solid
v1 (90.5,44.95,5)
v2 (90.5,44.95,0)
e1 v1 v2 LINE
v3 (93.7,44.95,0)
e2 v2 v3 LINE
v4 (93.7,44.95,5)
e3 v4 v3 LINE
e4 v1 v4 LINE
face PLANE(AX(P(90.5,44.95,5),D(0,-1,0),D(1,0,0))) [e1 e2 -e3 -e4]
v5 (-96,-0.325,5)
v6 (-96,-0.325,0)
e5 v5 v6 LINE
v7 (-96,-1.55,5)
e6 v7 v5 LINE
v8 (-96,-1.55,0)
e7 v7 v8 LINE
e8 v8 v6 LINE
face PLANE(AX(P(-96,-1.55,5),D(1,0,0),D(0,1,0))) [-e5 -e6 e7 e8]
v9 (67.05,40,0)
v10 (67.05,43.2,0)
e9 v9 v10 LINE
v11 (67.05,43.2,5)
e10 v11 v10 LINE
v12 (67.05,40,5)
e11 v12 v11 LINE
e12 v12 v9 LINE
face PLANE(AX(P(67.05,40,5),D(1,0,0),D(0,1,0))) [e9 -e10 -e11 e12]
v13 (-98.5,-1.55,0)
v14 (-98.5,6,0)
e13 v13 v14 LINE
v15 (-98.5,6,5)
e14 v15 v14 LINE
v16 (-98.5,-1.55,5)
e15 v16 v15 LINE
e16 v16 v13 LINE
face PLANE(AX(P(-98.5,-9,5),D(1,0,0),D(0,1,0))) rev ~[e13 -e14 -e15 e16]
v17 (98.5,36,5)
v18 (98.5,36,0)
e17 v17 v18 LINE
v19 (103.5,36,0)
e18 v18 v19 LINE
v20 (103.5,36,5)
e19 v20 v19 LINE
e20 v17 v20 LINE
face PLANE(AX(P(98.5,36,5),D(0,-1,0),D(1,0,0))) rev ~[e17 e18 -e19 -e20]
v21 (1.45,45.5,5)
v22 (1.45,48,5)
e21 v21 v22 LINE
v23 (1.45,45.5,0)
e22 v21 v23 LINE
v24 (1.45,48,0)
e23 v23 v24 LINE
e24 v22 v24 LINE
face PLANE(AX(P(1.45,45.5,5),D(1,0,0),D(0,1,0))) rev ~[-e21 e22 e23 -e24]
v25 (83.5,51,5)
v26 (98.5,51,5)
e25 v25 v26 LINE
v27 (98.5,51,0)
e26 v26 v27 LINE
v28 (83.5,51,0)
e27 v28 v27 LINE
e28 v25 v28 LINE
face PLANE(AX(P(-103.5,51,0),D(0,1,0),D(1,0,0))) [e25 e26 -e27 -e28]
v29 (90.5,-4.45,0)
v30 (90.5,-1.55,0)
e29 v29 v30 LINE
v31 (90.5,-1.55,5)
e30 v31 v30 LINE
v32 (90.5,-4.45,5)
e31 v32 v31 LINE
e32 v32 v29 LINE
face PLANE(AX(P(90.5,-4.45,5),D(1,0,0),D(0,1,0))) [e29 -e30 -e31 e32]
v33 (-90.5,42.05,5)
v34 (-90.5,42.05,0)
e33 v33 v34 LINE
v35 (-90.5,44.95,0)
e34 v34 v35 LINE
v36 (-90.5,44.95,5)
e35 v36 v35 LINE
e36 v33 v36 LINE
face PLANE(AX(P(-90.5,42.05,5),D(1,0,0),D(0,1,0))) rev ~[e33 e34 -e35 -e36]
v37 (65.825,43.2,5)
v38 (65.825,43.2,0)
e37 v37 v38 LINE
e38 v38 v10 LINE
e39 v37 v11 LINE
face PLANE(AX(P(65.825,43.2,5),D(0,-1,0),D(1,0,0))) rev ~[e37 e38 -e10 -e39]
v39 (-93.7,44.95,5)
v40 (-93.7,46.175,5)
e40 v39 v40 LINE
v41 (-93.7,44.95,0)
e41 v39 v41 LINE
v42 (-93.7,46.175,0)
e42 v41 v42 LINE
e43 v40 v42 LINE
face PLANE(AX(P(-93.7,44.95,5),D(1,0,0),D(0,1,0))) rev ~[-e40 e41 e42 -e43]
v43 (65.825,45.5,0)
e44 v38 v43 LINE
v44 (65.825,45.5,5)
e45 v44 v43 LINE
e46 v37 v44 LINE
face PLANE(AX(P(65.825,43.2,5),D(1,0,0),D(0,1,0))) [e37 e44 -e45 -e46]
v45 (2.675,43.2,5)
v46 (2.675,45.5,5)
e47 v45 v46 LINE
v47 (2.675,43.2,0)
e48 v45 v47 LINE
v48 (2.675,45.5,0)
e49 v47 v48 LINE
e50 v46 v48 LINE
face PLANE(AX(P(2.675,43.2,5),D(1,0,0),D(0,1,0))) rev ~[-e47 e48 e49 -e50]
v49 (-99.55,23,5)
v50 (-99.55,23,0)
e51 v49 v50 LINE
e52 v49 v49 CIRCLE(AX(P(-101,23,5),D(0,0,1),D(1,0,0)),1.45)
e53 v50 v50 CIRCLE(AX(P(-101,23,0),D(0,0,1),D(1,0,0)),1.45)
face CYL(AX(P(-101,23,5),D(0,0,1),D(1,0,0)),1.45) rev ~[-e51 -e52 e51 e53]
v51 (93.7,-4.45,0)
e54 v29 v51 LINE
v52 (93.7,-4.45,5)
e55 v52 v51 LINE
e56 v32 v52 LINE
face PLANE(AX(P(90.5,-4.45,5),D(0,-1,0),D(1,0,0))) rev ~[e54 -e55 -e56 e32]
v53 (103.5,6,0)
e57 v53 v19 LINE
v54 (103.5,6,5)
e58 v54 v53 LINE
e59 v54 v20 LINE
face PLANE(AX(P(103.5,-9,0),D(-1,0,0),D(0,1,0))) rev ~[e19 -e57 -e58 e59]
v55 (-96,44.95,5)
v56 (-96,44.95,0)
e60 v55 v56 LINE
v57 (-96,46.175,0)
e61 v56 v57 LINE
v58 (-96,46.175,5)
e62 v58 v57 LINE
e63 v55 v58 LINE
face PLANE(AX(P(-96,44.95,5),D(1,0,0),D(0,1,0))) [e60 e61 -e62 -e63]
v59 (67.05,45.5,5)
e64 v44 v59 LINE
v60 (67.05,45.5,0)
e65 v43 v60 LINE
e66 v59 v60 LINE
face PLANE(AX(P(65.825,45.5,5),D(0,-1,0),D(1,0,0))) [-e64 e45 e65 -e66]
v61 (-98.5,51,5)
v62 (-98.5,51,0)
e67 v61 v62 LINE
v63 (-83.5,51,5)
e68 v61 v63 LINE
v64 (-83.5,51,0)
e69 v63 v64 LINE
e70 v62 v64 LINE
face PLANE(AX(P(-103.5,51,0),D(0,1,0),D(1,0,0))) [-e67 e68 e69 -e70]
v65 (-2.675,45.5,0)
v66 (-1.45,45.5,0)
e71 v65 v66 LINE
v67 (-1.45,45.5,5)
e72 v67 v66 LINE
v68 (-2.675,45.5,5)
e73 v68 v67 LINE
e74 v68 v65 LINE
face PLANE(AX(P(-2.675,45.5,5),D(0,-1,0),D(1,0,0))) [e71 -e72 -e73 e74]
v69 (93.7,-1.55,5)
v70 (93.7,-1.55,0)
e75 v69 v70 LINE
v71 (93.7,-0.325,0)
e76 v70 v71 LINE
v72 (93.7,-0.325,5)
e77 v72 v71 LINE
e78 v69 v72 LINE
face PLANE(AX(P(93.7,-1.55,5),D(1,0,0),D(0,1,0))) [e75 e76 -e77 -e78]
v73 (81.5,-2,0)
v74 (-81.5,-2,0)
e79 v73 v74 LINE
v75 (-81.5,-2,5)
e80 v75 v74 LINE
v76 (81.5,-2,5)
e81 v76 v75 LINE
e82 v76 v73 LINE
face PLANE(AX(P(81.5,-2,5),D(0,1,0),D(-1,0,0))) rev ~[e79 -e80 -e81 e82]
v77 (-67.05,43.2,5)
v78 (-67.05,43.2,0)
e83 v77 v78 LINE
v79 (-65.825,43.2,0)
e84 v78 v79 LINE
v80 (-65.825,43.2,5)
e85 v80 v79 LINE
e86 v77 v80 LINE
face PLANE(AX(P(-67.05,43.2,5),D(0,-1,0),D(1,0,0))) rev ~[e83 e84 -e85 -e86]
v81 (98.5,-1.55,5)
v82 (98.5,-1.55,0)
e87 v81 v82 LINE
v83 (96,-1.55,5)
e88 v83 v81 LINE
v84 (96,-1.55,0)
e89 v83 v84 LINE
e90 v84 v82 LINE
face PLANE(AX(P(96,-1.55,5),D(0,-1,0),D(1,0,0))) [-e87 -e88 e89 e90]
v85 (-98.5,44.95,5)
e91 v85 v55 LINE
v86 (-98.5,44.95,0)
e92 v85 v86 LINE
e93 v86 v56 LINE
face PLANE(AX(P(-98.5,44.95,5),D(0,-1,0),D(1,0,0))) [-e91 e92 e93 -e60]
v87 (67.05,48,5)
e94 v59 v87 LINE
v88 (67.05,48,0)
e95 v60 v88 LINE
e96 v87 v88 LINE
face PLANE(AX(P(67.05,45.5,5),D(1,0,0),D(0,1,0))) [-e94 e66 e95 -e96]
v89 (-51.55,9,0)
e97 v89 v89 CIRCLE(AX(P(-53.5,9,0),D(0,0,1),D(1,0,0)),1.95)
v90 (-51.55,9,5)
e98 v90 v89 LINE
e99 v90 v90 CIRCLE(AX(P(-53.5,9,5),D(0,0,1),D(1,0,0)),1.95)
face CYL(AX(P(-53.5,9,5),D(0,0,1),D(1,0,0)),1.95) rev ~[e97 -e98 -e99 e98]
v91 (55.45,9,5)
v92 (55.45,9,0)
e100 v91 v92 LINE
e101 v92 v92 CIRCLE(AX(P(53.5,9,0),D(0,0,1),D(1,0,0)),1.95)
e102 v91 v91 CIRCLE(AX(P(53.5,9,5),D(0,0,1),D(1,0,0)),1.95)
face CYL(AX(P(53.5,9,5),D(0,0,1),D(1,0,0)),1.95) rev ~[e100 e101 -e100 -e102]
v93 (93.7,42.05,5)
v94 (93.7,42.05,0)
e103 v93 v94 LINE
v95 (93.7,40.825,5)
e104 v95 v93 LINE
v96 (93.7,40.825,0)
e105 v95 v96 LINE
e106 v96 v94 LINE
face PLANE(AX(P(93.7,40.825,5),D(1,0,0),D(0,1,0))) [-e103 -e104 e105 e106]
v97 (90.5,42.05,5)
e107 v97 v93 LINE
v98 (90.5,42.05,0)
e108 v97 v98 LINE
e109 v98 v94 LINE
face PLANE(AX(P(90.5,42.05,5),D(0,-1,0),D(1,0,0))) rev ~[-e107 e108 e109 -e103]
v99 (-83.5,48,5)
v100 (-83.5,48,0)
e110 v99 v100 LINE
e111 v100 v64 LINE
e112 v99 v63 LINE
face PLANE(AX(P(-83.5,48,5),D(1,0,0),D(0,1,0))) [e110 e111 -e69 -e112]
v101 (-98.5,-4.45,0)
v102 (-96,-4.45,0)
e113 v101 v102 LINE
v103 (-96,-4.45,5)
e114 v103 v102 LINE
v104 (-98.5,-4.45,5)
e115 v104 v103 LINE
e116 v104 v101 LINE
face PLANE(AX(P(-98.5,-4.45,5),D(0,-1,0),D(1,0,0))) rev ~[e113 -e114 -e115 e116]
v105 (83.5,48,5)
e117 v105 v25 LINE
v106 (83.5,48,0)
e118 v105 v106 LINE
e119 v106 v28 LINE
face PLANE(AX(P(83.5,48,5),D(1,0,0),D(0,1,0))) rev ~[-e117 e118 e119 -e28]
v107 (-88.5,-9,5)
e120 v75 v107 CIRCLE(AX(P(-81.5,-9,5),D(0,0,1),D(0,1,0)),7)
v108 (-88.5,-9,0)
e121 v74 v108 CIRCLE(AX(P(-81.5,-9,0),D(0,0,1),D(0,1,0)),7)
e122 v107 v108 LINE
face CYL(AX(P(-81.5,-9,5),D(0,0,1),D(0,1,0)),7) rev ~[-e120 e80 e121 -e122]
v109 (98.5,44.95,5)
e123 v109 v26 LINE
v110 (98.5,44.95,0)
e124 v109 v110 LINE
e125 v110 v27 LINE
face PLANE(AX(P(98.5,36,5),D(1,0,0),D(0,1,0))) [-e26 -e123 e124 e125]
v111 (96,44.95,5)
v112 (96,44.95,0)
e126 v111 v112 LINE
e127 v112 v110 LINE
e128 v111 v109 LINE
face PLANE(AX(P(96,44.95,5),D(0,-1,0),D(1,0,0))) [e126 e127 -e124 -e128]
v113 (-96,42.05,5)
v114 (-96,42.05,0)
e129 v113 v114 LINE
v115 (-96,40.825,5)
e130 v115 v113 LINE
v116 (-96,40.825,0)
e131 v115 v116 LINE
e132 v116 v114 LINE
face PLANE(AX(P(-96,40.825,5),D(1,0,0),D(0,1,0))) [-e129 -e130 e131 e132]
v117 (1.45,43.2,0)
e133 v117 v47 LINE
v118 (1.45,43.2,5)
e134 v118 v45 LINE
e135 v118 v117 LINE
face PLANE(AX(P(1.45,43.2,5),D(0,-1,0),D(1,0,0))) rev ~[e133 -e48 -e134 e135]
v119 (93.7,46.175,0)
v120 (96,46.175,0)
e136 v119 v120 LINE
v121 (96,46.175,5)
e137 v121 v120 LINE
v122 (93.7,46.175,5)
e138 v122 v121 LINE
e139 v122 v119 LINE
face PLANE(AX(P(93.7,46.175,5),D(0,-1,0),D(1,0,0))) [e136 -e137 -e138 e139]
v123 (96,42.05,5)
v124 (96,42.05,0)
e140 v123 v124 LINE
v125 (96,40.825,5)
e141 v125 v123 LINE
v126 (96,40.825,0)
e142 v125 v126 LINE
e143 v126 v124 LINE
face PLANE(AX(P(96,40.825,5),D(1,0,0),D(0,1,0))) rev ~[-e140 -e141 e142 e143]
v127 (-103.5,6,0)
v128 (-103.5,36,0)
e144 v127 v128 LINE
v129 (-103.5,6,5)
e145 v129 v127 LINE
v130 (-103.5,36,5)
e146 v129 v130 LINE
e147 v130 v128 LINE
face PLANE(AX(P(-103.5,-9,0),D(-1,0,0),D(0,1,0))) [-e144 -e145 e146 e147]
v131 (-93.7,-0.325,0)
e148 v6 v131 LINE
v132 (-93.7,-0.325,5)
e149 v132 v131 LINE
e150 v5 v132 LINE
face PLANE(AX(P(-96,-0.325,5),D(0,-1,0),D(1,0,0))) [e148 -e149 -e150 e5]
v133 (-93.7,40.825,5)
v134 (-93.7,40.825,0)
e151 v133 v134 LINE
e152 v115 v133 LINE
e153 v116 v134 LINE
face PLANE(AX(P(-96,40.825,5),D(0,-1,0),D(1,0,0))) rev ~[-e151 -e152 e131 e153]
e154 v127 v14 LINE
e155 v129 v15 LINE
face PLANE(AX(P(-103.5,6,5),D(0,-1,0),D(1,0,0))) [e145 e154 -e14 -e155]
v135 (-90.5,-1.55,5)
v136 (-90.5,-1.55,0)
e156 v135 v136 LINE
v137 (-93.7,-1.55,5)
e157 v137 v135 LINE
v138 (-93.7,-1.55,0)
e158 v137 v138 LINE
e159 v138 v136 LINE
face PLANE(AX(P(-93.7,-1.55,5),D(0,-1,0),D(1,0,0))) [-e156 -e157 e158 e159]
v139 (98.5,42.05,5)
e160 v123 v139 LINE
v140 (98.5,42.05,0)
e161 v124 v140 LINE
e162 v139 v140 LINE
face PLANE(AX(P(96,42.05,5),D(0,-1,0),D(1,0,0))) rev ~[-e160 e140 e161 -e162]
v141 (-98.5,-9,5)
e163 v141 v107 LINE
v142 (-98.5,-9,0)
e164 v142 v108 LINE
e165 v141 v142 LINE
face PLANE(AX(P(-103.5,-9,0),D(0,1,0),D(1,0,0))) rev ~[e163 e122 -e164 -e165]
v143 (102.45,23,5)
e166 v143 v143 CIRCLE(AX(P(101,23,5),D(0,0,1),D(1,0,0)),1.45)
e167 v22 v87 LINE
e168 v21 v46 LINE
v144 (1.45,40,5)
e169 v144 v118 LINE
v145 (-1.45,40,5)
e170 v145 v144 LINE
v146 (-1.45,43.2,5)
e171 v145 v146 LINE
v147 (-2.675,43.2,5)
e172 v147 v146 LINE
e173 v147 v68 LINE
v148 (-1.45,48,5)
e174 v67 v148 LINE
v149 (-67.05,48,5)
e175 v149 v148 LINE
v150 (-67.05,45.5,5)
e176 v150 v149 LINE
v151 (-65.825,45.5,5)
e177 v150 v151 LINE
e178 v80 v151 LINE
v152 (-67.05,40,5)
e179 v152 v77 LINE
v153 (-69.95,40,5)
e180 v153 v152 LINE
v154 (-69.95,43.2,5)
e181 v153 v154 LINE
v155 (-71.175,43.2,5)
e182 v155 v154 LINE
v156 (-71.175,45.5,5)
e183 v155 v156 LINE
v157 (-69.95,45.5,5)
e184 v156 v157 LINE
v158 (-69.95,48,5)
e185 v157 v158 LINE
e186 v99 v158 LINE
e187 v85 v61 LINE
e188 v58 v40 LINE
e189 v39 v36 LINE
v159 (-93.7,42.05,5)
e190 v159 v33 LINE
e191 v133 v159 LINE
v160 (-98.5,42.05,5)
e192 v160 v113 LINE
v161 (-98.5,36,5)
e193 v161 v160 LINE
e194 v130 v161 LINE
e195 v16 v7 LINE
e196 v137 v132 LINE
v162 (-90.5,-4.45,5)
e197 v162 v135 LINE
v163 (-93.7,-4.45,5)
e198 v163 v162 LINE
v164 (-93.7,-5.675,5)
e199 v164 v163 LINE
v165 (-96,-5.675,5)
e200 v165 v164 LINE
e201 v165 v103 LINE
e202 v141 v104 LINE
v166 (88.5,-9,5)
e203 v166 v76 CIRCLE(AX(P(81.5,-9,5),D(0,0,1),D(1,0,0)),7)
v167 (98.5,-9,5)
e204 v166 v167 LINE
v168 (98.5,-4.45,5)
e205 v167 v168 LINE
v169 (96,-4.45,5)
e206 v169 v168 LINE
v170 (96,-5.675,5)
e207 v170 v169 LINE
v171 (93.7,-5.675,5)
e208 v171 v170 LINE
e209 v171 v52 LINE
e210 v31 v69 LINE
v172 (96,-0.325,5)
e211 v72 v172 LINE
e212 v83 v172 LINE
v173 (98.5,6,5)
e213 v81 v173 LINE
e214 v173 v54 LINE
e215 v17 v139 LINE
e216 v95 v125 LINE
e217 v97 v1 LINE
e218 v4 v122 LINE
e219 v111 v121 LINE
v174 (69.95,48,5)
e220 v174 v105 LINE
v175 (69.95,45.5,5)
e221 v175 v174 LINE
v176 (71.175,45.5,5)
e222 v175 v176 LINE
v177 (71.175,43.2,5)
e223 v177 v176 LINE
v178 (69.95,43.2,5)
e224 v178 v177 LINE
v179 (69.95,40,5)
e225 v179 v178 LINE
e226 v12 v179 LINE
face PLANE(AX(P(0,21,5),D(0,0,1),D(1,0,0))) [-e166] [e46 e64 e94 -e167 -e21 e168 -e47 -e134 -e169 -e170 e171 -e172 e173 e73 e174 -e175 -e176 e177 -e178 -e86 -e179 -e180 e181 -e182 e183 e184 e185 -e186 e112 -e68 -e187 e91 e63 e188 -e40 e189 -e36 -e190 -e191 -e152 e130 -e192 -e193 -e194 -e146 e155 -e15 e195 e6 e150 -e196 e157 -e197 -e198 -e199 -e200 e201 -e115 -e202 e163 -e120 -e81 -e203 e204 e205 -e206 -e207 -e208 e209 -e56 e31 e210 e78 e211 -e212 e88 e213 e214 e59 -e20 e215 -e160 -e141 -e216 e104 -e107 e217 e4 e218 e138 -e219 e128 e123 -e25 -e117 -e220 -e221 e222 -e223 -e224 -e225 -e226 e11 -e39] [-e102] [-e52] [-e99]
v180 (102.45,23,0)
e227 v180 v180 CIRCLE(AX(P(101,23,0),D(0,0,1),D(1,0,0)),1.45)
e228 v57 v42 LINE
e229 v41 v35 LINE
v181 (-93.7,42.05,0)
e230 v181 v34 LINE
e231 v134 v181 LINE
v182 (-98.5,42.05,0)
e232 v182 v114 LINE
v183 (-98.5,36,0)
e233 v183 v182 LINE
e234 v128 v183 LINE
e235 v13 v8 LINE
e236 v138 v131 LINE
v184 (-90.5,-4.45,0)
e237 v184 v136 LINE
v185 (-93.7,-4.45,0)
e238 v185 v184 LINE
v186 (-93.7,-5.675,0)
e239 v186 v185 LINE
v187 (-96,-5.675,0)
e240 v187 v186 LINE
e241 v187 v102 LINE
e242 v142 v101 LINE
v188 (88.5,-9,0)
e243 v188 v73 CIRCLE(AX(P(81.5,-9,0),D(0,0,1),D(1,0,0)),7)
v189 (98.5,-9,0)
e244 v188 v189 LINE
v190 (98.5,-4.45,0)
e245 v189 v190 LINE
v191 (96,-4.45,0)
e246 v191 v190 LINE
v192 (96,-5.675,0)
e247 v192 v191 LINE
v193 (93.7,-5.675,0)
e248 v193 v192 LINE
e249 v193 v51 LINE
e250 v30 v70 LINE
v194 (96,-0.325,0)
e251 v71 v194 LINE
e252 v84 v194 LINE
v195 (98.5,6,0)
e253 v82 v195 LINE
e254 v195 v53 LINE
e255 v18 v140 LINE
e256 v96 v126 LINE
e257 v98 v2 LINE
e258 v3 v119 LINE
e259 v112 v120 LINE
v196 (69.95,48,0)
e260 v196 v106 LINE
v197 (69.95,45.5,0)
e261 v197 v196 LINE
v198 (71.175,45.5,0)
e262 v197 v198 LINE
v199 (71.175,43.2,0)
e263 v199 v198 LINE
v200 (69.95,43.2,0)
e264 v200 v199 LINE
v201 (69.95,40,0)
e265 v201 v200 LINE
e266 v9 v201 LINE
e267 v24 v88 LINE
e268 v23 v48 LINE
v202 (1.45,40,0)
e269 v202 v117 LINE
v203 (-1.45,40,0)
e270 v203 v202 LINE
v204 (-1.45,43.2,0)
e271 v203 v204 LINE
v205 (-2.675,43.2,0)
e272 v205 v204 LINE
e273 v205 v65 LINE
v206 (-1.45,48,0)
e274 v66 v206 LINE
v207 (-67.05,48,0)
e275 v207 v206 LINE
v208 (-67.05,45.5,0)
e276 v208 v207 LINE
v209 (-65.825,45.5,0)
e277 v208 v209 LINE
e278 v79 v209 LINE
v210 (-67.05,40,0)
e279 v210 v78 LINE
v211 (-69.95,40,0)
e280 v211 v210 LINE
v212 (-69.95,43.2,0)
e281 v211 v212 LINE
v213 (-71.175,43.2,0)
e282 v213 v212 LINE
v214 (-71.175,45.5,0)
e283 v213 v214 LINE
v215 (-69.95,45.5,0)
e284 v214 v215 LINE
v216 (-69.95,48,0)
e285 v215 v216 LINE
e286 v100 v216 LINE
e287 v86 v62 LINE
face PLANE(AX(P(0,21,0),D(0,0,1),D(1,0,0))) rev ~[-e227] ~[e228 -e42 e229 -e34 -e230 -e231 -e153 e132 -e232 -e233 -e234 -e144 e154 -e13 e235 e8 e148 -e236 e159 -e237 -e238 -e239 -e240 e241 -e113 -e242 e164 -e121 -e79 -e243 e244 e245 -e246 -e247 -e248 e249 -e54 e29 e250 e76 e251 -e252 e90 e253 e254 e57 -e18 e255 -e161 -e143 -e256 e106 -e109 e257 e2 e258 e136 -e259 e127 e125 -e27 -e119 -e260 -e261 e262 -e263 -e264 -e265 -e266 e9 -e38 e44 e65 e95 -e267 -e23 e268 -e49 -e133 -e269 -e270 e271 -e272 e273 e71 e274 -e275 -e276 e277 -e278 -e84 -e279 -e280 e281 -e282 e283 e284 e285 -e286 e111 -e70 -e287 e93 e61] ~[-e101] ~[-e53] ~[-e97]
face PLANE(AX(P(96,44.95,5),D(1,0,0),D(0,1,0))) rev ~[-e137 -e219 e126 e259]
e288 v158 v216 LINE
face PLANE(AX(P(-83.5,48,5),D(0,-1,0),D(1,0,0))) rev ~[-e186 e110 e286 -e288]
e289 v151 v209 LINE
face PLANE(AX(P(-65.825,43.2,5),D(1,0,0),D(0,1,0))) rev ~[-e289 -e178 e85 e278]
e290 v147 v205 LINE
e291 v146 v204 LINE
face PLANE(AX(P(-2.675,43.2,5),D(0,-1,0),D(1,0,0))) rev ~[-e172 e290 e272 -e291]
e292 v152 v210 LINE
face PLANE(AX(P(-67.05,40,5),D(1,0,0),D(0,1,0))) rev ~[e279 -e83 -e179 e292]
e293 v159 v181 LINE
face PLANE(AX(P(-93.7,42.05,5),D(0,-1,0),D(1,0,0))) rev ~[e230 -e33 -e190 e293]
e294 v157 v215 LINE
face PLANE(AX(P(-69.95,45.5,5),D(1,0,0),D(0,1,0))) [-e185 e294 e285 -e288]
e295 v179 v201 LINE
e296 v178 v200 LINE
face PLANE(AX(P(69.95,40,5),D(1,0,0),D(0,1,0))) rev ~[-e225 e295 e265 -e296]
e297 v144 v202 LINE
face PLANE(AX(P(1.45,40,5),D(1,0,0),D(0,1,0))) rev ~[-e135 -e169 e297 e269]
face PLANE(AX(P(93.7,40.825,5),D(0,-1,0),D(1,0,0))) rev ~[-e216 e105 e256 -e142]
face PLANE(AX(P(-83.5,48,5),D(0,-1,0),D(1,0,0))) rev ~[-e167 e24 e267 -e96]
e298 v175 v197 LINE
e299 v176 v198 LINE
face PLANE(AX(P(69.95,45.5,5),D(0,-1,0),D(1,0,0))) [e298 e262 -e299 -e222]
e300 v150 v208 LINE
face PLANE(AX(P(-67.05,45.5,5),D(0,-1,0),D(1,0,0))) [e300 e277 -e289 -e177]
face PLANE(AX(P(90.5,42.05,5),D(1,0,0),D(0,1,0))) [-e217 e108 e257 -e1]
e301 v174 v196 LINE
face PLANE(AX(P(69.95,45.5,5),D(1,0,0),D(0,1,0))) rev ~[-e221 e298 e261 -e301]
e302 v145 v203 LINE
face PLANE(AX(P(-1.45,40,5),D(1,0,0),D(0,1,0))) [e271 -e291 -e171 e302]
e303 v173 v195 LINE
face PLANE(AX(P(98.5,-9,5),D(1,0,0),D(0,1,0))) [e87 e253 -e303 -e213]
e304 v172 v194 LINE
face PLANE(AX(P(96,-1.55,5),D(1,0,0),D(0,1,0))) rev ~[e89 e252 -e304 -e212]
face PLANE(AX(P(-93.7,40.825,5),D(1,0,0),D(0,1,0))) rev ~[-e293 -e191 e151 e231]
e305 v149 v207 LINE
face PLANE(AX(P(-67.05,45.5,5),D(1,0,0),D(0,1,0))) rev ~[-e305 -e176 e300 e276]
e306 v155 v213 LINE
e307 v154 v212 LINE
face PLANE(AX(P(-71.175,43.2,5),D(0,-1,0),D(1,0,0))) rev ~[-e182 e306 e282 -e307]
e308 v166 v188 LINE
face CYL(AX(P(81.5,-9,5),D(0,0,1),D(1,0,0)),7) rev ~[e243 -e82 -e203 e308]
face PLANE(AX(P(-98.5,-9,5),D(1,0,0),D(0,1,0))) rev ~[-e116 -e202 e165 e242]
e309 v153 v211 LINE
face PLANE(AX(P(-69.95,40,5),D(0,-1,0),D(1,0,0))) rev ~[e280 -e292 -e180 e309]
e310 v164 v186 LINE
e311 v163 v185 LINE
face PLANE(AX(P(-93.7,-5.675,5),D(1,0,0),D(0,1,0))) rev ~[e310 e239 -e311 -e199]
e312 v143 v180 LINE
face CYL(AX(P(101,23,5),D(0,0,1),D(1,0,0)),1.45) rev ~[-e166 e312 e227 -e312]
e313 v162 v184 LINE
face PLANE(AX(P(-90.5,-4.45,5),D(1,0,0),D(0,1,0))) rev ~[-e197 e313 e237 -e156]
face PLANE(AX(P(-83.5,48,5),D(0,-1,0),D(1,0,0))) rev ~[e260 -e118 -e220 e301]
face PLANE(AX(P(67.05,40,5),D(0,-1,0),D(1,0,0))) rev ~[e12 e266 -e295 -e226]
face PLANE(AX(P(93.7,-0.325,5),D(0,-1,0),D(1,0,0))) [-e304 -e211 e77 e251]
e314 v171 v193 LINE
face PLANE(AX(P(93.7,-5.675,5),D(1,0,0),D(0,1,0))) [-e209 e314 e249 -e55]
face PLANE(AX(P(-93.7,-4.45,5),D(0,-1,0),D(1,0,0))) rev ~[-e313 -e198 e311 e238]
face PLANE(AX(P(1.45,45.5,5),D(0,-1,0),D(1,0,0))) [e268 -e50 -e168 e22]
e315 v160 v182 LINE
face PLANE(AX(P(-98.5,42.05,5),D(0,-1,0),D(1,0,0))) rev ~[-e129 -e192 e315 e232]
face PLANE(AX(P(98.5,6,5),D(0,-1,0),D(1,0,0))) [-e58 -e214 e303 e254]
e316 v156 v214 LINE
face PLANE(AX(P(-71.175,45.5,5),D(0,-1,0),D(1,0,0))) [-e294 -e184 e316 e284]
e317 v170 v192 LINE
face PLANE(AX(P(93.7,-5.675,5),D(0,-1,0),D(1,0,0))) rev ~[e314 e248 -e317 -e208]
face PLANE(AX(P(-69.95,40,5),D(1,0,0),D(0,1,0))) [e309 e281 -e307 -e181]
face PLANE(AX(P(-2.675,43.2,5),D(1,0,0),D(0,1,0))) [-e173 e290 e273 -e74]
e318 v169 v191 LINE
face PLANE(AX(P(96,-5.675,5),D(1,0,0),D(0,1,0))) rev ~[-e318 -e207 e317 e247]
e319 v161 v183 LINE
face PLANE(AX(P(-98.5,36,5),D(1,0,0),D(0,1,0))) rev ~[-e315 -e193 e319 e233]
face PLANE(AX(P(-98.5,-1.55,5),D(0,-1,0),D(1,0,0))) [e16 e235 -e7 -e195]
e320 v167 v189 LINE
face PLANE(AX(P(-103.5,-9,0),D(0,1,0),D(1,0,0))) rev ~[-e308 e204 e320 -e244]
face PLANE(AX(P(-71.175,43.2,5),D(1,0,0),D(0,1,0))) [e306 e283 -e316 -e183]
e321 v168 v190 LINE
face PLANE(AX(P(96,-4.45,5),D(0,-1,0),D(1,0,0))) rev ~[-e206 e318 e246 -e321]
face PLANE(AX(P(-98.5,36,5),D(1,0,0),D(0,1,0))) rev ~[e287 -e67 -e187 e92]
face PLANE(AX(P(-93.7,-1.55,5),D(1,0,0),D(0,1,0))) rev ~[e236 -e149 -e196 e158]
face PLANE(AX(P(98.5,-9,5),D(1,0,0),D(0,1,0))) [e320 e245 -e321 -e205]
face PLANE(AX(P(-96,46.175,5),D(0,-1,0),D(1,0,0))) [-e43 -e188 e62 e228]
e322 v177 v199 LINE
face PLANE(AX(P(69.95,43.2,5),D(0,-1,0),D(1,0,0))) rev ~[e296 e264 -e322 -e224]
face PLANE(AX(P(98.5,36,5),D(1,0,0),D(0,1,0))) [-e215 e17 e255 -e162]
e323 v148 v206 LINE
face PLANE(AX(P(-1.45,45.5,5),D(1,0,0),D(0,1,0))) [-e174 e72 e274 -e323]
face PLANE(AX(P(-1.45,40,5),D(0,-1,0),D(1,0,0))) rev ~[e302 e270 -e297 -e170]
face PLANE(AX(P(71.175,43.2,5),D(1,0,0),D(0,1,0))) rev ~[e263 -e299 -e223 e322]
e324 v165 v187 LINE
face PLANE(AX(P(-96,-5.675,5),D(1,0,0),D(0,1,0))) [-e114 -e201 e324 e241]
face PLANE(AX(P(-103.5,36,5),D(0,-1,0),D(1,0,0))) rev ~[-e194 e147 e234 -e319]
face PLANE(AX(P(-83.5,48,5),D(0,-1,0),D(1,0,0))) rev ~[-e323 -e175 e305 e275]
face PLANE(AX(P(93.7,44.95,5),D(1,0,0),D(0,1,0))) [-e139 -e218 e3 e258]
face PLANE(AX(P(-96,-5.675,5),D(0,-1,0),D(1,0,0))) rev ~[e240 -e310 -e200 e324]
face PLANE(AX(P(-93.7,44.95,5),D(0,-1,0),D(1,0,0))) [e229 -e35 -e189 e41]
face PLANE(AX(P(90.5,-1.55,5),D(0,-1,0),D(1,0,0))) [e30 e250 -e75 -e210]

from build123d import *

# Parameters (mm, degrees)
SKETCH1_W           = 207
SKETCH1_H           = 60
BOSS_EXTRUDE1_DEPTH = 5
SKETCH2_W           = 5
SKETCH2_H           = 15
CUT_EXTRUDE1_DEPTH  = 116.491341667
SKETCH3_W           = 167
SKETCH3_H           = 3
CUT_EXTRUDE2_DEPTH  = 5
SKETCH4_R           = 1.45
SKETCH4_R_2         = 1.95
SKETCH4_W           = 8
SKETCH4_H           = 2.9
SKETCH4_W_2         = 2.3
SKETCH4_H_2         = 5.35
SKETCH4_W_3         = 5.35
SKETCH4_H_3         = 2.3
SKETCH4_W_4         = 2.9
SKETCH4_H_4         = 8
CUT_EXTRUDE3_DEPTH  = 116.491341667


with BuildPart() as part:
    # Sketch1 → Boss-Extrude1 (new body)
    with BuildSketch(Plane.XY):
        with Locations((0, 21)):
            Rectangle(SKETCH1_W, SKETCH1_H)
    extrude(amount=BOSS_EXTRUDE1_DEPTH)

    # Sketch2 → Cut-Extrude1 (cut, through all)
    with BuildSketch(Plane.XY.offset(5)):
        with Locations((-101, 43.5)):
            Rectangle(SKETCH2_W, SKETCH2_H)
        with Locations((-101, -1.5)):
            Rectangle(SKETCH2_W, SKETCH2_H)
        with Locations((101, 43.5)):
            Rectangle(SKETCH2_W, SKETCH2_H)
        with Locations((101, -1.5)):
            Rectangle(SKETCH2_W, SKETCH2_H)
    extrude(amount=-CUT_EXTRUDE1_DEPTH, mode=Mode.SUBTRACT)

    # Sketch3 → Cut-Extrude2 (cut)
    with BuildSketch(Plane.XY.offset(5)):
        with Locations((0, 49.5)):
            Rectangle(SKETCH3_W, SKETCH3_H)
        with BuildLine():
            ThreePointArc((-81.5, -2), (-76.550252532, -4.050252532), (-74.5, -9))
            Line((-74.5, -9), (74.5, -9))
            ThreePointArc((74.5, -9), (76.550252532, -4.050252532), (81.5, -2))
            Line((81.5, -2), (-81.5, -2))
        make_face()
        with BuildLine():
            Line((-81.5, -2), (-81.5, -9))
            Line((-81.5, -9), (-74.5, -9))
            ThreePointArc((-74.5, -9), (-76.550252532, -4.050252532), (-81.5, -2))
        make_face()
        with BuildLine():
            Line((-88.5, -9), (-81.5, -9))
            Line((-81.5, -9), (-81.5, -2))
            ThreePointArc((-81.5, -2), (-86.449747468, -4.050252532), (-88.5, -9))
        make_face()
        with BuildLine():
            ThreePointArc((81.5, -2), (76.550252532, -4.050252532), (74.5, -9))
            Line((74.5, -9), (81.5, -9))
            Line((81.5, -9), (81.5, -2))
        make_face()
        with BuildLine():
            ThreePointArc((88.5, -9), (86.449747468, -4.050252532), (81.5, -2))
            Line((81.5, -2), (81.5, -9))
            Line((81.5, -9), (88.5, -9))
        make_face()
    extrude(amount=-CUT_EXTRUDE2_DEPTH, mode=Mode.SUBTRACT)

    # Sketch4 → Cut-Extrude3 (cut, through all)
    with BuildSketch(Plane.XY.offset(5)):
        with Locations((101, 23)):
            Circle(SKETCH4_R)
        with Locations((-101, 23)):
            Circle(SKETCH4_R)
        with Locations((-53.5, 9)):
            Circle(SKETCH4_R_2)
        with Locations((53.5, 9)):
            Circle(SKETCH4_R_2)
        with Locations((94.5, 43.5)):
            Rectangle(SKETCH4_W, SKETCH4_H)
        with Locations((94.5, -3)):
            Rectangle(SKETCH4_W, SKETCH4_H)
        with Locations((94.85, 43.5)):
            Rectangle(SKETCH4_W_2, SKETCH4_H_2)
        with Locations((94.85, -3)):
            Rectangle(SKETCH4_W_2, SKETCH4_H_2)
        with Locations((-94.85, -3)):
            Rectangle(SKETCH4_W_2, SKETCH4_H_2)
        with Locations((68.5, 44.35)):
            Rectangle(SKETCH4_W_3, SKETCH4_H_3)
        with Locations((68.5, 44)):
            Rectangle(SKETCH4_W_4, SKETCH4_H_4)
        with Locations((-94.5, 43.5)):
            Rectangle(SKETCH4_W, SKETCH4_H)
        with Locations((-94.85, 43.5)):
            Rectangle(SKETCH4_W_2, SKETCH4_H_2)
        with Locations((-94.5, -3)):
            Rectangle(SKETCH4_W, SKETCH4_H)
        with Locations((0, 44.35)):
            Rectangle(SKETCH4_W_3, SKETCH4_H_3)
        with Locations((0, 44)):
            Rectangle(SKETCH4_W_4, SKETCH4_H_4)
        with Locations((-68.5, 44)):
            Rectangle(SKETCH4_W_4, SKETCH4_H_4)
        with Locations((-68.5, 44.35)):
            Rectangle(SKETCH4_W_3, SKETCH4_H_3)
    extrude(amount=-CUT_EXTRUDE3_DEPTH, mode=Mode.SUBTRACT)


solid = part.part
